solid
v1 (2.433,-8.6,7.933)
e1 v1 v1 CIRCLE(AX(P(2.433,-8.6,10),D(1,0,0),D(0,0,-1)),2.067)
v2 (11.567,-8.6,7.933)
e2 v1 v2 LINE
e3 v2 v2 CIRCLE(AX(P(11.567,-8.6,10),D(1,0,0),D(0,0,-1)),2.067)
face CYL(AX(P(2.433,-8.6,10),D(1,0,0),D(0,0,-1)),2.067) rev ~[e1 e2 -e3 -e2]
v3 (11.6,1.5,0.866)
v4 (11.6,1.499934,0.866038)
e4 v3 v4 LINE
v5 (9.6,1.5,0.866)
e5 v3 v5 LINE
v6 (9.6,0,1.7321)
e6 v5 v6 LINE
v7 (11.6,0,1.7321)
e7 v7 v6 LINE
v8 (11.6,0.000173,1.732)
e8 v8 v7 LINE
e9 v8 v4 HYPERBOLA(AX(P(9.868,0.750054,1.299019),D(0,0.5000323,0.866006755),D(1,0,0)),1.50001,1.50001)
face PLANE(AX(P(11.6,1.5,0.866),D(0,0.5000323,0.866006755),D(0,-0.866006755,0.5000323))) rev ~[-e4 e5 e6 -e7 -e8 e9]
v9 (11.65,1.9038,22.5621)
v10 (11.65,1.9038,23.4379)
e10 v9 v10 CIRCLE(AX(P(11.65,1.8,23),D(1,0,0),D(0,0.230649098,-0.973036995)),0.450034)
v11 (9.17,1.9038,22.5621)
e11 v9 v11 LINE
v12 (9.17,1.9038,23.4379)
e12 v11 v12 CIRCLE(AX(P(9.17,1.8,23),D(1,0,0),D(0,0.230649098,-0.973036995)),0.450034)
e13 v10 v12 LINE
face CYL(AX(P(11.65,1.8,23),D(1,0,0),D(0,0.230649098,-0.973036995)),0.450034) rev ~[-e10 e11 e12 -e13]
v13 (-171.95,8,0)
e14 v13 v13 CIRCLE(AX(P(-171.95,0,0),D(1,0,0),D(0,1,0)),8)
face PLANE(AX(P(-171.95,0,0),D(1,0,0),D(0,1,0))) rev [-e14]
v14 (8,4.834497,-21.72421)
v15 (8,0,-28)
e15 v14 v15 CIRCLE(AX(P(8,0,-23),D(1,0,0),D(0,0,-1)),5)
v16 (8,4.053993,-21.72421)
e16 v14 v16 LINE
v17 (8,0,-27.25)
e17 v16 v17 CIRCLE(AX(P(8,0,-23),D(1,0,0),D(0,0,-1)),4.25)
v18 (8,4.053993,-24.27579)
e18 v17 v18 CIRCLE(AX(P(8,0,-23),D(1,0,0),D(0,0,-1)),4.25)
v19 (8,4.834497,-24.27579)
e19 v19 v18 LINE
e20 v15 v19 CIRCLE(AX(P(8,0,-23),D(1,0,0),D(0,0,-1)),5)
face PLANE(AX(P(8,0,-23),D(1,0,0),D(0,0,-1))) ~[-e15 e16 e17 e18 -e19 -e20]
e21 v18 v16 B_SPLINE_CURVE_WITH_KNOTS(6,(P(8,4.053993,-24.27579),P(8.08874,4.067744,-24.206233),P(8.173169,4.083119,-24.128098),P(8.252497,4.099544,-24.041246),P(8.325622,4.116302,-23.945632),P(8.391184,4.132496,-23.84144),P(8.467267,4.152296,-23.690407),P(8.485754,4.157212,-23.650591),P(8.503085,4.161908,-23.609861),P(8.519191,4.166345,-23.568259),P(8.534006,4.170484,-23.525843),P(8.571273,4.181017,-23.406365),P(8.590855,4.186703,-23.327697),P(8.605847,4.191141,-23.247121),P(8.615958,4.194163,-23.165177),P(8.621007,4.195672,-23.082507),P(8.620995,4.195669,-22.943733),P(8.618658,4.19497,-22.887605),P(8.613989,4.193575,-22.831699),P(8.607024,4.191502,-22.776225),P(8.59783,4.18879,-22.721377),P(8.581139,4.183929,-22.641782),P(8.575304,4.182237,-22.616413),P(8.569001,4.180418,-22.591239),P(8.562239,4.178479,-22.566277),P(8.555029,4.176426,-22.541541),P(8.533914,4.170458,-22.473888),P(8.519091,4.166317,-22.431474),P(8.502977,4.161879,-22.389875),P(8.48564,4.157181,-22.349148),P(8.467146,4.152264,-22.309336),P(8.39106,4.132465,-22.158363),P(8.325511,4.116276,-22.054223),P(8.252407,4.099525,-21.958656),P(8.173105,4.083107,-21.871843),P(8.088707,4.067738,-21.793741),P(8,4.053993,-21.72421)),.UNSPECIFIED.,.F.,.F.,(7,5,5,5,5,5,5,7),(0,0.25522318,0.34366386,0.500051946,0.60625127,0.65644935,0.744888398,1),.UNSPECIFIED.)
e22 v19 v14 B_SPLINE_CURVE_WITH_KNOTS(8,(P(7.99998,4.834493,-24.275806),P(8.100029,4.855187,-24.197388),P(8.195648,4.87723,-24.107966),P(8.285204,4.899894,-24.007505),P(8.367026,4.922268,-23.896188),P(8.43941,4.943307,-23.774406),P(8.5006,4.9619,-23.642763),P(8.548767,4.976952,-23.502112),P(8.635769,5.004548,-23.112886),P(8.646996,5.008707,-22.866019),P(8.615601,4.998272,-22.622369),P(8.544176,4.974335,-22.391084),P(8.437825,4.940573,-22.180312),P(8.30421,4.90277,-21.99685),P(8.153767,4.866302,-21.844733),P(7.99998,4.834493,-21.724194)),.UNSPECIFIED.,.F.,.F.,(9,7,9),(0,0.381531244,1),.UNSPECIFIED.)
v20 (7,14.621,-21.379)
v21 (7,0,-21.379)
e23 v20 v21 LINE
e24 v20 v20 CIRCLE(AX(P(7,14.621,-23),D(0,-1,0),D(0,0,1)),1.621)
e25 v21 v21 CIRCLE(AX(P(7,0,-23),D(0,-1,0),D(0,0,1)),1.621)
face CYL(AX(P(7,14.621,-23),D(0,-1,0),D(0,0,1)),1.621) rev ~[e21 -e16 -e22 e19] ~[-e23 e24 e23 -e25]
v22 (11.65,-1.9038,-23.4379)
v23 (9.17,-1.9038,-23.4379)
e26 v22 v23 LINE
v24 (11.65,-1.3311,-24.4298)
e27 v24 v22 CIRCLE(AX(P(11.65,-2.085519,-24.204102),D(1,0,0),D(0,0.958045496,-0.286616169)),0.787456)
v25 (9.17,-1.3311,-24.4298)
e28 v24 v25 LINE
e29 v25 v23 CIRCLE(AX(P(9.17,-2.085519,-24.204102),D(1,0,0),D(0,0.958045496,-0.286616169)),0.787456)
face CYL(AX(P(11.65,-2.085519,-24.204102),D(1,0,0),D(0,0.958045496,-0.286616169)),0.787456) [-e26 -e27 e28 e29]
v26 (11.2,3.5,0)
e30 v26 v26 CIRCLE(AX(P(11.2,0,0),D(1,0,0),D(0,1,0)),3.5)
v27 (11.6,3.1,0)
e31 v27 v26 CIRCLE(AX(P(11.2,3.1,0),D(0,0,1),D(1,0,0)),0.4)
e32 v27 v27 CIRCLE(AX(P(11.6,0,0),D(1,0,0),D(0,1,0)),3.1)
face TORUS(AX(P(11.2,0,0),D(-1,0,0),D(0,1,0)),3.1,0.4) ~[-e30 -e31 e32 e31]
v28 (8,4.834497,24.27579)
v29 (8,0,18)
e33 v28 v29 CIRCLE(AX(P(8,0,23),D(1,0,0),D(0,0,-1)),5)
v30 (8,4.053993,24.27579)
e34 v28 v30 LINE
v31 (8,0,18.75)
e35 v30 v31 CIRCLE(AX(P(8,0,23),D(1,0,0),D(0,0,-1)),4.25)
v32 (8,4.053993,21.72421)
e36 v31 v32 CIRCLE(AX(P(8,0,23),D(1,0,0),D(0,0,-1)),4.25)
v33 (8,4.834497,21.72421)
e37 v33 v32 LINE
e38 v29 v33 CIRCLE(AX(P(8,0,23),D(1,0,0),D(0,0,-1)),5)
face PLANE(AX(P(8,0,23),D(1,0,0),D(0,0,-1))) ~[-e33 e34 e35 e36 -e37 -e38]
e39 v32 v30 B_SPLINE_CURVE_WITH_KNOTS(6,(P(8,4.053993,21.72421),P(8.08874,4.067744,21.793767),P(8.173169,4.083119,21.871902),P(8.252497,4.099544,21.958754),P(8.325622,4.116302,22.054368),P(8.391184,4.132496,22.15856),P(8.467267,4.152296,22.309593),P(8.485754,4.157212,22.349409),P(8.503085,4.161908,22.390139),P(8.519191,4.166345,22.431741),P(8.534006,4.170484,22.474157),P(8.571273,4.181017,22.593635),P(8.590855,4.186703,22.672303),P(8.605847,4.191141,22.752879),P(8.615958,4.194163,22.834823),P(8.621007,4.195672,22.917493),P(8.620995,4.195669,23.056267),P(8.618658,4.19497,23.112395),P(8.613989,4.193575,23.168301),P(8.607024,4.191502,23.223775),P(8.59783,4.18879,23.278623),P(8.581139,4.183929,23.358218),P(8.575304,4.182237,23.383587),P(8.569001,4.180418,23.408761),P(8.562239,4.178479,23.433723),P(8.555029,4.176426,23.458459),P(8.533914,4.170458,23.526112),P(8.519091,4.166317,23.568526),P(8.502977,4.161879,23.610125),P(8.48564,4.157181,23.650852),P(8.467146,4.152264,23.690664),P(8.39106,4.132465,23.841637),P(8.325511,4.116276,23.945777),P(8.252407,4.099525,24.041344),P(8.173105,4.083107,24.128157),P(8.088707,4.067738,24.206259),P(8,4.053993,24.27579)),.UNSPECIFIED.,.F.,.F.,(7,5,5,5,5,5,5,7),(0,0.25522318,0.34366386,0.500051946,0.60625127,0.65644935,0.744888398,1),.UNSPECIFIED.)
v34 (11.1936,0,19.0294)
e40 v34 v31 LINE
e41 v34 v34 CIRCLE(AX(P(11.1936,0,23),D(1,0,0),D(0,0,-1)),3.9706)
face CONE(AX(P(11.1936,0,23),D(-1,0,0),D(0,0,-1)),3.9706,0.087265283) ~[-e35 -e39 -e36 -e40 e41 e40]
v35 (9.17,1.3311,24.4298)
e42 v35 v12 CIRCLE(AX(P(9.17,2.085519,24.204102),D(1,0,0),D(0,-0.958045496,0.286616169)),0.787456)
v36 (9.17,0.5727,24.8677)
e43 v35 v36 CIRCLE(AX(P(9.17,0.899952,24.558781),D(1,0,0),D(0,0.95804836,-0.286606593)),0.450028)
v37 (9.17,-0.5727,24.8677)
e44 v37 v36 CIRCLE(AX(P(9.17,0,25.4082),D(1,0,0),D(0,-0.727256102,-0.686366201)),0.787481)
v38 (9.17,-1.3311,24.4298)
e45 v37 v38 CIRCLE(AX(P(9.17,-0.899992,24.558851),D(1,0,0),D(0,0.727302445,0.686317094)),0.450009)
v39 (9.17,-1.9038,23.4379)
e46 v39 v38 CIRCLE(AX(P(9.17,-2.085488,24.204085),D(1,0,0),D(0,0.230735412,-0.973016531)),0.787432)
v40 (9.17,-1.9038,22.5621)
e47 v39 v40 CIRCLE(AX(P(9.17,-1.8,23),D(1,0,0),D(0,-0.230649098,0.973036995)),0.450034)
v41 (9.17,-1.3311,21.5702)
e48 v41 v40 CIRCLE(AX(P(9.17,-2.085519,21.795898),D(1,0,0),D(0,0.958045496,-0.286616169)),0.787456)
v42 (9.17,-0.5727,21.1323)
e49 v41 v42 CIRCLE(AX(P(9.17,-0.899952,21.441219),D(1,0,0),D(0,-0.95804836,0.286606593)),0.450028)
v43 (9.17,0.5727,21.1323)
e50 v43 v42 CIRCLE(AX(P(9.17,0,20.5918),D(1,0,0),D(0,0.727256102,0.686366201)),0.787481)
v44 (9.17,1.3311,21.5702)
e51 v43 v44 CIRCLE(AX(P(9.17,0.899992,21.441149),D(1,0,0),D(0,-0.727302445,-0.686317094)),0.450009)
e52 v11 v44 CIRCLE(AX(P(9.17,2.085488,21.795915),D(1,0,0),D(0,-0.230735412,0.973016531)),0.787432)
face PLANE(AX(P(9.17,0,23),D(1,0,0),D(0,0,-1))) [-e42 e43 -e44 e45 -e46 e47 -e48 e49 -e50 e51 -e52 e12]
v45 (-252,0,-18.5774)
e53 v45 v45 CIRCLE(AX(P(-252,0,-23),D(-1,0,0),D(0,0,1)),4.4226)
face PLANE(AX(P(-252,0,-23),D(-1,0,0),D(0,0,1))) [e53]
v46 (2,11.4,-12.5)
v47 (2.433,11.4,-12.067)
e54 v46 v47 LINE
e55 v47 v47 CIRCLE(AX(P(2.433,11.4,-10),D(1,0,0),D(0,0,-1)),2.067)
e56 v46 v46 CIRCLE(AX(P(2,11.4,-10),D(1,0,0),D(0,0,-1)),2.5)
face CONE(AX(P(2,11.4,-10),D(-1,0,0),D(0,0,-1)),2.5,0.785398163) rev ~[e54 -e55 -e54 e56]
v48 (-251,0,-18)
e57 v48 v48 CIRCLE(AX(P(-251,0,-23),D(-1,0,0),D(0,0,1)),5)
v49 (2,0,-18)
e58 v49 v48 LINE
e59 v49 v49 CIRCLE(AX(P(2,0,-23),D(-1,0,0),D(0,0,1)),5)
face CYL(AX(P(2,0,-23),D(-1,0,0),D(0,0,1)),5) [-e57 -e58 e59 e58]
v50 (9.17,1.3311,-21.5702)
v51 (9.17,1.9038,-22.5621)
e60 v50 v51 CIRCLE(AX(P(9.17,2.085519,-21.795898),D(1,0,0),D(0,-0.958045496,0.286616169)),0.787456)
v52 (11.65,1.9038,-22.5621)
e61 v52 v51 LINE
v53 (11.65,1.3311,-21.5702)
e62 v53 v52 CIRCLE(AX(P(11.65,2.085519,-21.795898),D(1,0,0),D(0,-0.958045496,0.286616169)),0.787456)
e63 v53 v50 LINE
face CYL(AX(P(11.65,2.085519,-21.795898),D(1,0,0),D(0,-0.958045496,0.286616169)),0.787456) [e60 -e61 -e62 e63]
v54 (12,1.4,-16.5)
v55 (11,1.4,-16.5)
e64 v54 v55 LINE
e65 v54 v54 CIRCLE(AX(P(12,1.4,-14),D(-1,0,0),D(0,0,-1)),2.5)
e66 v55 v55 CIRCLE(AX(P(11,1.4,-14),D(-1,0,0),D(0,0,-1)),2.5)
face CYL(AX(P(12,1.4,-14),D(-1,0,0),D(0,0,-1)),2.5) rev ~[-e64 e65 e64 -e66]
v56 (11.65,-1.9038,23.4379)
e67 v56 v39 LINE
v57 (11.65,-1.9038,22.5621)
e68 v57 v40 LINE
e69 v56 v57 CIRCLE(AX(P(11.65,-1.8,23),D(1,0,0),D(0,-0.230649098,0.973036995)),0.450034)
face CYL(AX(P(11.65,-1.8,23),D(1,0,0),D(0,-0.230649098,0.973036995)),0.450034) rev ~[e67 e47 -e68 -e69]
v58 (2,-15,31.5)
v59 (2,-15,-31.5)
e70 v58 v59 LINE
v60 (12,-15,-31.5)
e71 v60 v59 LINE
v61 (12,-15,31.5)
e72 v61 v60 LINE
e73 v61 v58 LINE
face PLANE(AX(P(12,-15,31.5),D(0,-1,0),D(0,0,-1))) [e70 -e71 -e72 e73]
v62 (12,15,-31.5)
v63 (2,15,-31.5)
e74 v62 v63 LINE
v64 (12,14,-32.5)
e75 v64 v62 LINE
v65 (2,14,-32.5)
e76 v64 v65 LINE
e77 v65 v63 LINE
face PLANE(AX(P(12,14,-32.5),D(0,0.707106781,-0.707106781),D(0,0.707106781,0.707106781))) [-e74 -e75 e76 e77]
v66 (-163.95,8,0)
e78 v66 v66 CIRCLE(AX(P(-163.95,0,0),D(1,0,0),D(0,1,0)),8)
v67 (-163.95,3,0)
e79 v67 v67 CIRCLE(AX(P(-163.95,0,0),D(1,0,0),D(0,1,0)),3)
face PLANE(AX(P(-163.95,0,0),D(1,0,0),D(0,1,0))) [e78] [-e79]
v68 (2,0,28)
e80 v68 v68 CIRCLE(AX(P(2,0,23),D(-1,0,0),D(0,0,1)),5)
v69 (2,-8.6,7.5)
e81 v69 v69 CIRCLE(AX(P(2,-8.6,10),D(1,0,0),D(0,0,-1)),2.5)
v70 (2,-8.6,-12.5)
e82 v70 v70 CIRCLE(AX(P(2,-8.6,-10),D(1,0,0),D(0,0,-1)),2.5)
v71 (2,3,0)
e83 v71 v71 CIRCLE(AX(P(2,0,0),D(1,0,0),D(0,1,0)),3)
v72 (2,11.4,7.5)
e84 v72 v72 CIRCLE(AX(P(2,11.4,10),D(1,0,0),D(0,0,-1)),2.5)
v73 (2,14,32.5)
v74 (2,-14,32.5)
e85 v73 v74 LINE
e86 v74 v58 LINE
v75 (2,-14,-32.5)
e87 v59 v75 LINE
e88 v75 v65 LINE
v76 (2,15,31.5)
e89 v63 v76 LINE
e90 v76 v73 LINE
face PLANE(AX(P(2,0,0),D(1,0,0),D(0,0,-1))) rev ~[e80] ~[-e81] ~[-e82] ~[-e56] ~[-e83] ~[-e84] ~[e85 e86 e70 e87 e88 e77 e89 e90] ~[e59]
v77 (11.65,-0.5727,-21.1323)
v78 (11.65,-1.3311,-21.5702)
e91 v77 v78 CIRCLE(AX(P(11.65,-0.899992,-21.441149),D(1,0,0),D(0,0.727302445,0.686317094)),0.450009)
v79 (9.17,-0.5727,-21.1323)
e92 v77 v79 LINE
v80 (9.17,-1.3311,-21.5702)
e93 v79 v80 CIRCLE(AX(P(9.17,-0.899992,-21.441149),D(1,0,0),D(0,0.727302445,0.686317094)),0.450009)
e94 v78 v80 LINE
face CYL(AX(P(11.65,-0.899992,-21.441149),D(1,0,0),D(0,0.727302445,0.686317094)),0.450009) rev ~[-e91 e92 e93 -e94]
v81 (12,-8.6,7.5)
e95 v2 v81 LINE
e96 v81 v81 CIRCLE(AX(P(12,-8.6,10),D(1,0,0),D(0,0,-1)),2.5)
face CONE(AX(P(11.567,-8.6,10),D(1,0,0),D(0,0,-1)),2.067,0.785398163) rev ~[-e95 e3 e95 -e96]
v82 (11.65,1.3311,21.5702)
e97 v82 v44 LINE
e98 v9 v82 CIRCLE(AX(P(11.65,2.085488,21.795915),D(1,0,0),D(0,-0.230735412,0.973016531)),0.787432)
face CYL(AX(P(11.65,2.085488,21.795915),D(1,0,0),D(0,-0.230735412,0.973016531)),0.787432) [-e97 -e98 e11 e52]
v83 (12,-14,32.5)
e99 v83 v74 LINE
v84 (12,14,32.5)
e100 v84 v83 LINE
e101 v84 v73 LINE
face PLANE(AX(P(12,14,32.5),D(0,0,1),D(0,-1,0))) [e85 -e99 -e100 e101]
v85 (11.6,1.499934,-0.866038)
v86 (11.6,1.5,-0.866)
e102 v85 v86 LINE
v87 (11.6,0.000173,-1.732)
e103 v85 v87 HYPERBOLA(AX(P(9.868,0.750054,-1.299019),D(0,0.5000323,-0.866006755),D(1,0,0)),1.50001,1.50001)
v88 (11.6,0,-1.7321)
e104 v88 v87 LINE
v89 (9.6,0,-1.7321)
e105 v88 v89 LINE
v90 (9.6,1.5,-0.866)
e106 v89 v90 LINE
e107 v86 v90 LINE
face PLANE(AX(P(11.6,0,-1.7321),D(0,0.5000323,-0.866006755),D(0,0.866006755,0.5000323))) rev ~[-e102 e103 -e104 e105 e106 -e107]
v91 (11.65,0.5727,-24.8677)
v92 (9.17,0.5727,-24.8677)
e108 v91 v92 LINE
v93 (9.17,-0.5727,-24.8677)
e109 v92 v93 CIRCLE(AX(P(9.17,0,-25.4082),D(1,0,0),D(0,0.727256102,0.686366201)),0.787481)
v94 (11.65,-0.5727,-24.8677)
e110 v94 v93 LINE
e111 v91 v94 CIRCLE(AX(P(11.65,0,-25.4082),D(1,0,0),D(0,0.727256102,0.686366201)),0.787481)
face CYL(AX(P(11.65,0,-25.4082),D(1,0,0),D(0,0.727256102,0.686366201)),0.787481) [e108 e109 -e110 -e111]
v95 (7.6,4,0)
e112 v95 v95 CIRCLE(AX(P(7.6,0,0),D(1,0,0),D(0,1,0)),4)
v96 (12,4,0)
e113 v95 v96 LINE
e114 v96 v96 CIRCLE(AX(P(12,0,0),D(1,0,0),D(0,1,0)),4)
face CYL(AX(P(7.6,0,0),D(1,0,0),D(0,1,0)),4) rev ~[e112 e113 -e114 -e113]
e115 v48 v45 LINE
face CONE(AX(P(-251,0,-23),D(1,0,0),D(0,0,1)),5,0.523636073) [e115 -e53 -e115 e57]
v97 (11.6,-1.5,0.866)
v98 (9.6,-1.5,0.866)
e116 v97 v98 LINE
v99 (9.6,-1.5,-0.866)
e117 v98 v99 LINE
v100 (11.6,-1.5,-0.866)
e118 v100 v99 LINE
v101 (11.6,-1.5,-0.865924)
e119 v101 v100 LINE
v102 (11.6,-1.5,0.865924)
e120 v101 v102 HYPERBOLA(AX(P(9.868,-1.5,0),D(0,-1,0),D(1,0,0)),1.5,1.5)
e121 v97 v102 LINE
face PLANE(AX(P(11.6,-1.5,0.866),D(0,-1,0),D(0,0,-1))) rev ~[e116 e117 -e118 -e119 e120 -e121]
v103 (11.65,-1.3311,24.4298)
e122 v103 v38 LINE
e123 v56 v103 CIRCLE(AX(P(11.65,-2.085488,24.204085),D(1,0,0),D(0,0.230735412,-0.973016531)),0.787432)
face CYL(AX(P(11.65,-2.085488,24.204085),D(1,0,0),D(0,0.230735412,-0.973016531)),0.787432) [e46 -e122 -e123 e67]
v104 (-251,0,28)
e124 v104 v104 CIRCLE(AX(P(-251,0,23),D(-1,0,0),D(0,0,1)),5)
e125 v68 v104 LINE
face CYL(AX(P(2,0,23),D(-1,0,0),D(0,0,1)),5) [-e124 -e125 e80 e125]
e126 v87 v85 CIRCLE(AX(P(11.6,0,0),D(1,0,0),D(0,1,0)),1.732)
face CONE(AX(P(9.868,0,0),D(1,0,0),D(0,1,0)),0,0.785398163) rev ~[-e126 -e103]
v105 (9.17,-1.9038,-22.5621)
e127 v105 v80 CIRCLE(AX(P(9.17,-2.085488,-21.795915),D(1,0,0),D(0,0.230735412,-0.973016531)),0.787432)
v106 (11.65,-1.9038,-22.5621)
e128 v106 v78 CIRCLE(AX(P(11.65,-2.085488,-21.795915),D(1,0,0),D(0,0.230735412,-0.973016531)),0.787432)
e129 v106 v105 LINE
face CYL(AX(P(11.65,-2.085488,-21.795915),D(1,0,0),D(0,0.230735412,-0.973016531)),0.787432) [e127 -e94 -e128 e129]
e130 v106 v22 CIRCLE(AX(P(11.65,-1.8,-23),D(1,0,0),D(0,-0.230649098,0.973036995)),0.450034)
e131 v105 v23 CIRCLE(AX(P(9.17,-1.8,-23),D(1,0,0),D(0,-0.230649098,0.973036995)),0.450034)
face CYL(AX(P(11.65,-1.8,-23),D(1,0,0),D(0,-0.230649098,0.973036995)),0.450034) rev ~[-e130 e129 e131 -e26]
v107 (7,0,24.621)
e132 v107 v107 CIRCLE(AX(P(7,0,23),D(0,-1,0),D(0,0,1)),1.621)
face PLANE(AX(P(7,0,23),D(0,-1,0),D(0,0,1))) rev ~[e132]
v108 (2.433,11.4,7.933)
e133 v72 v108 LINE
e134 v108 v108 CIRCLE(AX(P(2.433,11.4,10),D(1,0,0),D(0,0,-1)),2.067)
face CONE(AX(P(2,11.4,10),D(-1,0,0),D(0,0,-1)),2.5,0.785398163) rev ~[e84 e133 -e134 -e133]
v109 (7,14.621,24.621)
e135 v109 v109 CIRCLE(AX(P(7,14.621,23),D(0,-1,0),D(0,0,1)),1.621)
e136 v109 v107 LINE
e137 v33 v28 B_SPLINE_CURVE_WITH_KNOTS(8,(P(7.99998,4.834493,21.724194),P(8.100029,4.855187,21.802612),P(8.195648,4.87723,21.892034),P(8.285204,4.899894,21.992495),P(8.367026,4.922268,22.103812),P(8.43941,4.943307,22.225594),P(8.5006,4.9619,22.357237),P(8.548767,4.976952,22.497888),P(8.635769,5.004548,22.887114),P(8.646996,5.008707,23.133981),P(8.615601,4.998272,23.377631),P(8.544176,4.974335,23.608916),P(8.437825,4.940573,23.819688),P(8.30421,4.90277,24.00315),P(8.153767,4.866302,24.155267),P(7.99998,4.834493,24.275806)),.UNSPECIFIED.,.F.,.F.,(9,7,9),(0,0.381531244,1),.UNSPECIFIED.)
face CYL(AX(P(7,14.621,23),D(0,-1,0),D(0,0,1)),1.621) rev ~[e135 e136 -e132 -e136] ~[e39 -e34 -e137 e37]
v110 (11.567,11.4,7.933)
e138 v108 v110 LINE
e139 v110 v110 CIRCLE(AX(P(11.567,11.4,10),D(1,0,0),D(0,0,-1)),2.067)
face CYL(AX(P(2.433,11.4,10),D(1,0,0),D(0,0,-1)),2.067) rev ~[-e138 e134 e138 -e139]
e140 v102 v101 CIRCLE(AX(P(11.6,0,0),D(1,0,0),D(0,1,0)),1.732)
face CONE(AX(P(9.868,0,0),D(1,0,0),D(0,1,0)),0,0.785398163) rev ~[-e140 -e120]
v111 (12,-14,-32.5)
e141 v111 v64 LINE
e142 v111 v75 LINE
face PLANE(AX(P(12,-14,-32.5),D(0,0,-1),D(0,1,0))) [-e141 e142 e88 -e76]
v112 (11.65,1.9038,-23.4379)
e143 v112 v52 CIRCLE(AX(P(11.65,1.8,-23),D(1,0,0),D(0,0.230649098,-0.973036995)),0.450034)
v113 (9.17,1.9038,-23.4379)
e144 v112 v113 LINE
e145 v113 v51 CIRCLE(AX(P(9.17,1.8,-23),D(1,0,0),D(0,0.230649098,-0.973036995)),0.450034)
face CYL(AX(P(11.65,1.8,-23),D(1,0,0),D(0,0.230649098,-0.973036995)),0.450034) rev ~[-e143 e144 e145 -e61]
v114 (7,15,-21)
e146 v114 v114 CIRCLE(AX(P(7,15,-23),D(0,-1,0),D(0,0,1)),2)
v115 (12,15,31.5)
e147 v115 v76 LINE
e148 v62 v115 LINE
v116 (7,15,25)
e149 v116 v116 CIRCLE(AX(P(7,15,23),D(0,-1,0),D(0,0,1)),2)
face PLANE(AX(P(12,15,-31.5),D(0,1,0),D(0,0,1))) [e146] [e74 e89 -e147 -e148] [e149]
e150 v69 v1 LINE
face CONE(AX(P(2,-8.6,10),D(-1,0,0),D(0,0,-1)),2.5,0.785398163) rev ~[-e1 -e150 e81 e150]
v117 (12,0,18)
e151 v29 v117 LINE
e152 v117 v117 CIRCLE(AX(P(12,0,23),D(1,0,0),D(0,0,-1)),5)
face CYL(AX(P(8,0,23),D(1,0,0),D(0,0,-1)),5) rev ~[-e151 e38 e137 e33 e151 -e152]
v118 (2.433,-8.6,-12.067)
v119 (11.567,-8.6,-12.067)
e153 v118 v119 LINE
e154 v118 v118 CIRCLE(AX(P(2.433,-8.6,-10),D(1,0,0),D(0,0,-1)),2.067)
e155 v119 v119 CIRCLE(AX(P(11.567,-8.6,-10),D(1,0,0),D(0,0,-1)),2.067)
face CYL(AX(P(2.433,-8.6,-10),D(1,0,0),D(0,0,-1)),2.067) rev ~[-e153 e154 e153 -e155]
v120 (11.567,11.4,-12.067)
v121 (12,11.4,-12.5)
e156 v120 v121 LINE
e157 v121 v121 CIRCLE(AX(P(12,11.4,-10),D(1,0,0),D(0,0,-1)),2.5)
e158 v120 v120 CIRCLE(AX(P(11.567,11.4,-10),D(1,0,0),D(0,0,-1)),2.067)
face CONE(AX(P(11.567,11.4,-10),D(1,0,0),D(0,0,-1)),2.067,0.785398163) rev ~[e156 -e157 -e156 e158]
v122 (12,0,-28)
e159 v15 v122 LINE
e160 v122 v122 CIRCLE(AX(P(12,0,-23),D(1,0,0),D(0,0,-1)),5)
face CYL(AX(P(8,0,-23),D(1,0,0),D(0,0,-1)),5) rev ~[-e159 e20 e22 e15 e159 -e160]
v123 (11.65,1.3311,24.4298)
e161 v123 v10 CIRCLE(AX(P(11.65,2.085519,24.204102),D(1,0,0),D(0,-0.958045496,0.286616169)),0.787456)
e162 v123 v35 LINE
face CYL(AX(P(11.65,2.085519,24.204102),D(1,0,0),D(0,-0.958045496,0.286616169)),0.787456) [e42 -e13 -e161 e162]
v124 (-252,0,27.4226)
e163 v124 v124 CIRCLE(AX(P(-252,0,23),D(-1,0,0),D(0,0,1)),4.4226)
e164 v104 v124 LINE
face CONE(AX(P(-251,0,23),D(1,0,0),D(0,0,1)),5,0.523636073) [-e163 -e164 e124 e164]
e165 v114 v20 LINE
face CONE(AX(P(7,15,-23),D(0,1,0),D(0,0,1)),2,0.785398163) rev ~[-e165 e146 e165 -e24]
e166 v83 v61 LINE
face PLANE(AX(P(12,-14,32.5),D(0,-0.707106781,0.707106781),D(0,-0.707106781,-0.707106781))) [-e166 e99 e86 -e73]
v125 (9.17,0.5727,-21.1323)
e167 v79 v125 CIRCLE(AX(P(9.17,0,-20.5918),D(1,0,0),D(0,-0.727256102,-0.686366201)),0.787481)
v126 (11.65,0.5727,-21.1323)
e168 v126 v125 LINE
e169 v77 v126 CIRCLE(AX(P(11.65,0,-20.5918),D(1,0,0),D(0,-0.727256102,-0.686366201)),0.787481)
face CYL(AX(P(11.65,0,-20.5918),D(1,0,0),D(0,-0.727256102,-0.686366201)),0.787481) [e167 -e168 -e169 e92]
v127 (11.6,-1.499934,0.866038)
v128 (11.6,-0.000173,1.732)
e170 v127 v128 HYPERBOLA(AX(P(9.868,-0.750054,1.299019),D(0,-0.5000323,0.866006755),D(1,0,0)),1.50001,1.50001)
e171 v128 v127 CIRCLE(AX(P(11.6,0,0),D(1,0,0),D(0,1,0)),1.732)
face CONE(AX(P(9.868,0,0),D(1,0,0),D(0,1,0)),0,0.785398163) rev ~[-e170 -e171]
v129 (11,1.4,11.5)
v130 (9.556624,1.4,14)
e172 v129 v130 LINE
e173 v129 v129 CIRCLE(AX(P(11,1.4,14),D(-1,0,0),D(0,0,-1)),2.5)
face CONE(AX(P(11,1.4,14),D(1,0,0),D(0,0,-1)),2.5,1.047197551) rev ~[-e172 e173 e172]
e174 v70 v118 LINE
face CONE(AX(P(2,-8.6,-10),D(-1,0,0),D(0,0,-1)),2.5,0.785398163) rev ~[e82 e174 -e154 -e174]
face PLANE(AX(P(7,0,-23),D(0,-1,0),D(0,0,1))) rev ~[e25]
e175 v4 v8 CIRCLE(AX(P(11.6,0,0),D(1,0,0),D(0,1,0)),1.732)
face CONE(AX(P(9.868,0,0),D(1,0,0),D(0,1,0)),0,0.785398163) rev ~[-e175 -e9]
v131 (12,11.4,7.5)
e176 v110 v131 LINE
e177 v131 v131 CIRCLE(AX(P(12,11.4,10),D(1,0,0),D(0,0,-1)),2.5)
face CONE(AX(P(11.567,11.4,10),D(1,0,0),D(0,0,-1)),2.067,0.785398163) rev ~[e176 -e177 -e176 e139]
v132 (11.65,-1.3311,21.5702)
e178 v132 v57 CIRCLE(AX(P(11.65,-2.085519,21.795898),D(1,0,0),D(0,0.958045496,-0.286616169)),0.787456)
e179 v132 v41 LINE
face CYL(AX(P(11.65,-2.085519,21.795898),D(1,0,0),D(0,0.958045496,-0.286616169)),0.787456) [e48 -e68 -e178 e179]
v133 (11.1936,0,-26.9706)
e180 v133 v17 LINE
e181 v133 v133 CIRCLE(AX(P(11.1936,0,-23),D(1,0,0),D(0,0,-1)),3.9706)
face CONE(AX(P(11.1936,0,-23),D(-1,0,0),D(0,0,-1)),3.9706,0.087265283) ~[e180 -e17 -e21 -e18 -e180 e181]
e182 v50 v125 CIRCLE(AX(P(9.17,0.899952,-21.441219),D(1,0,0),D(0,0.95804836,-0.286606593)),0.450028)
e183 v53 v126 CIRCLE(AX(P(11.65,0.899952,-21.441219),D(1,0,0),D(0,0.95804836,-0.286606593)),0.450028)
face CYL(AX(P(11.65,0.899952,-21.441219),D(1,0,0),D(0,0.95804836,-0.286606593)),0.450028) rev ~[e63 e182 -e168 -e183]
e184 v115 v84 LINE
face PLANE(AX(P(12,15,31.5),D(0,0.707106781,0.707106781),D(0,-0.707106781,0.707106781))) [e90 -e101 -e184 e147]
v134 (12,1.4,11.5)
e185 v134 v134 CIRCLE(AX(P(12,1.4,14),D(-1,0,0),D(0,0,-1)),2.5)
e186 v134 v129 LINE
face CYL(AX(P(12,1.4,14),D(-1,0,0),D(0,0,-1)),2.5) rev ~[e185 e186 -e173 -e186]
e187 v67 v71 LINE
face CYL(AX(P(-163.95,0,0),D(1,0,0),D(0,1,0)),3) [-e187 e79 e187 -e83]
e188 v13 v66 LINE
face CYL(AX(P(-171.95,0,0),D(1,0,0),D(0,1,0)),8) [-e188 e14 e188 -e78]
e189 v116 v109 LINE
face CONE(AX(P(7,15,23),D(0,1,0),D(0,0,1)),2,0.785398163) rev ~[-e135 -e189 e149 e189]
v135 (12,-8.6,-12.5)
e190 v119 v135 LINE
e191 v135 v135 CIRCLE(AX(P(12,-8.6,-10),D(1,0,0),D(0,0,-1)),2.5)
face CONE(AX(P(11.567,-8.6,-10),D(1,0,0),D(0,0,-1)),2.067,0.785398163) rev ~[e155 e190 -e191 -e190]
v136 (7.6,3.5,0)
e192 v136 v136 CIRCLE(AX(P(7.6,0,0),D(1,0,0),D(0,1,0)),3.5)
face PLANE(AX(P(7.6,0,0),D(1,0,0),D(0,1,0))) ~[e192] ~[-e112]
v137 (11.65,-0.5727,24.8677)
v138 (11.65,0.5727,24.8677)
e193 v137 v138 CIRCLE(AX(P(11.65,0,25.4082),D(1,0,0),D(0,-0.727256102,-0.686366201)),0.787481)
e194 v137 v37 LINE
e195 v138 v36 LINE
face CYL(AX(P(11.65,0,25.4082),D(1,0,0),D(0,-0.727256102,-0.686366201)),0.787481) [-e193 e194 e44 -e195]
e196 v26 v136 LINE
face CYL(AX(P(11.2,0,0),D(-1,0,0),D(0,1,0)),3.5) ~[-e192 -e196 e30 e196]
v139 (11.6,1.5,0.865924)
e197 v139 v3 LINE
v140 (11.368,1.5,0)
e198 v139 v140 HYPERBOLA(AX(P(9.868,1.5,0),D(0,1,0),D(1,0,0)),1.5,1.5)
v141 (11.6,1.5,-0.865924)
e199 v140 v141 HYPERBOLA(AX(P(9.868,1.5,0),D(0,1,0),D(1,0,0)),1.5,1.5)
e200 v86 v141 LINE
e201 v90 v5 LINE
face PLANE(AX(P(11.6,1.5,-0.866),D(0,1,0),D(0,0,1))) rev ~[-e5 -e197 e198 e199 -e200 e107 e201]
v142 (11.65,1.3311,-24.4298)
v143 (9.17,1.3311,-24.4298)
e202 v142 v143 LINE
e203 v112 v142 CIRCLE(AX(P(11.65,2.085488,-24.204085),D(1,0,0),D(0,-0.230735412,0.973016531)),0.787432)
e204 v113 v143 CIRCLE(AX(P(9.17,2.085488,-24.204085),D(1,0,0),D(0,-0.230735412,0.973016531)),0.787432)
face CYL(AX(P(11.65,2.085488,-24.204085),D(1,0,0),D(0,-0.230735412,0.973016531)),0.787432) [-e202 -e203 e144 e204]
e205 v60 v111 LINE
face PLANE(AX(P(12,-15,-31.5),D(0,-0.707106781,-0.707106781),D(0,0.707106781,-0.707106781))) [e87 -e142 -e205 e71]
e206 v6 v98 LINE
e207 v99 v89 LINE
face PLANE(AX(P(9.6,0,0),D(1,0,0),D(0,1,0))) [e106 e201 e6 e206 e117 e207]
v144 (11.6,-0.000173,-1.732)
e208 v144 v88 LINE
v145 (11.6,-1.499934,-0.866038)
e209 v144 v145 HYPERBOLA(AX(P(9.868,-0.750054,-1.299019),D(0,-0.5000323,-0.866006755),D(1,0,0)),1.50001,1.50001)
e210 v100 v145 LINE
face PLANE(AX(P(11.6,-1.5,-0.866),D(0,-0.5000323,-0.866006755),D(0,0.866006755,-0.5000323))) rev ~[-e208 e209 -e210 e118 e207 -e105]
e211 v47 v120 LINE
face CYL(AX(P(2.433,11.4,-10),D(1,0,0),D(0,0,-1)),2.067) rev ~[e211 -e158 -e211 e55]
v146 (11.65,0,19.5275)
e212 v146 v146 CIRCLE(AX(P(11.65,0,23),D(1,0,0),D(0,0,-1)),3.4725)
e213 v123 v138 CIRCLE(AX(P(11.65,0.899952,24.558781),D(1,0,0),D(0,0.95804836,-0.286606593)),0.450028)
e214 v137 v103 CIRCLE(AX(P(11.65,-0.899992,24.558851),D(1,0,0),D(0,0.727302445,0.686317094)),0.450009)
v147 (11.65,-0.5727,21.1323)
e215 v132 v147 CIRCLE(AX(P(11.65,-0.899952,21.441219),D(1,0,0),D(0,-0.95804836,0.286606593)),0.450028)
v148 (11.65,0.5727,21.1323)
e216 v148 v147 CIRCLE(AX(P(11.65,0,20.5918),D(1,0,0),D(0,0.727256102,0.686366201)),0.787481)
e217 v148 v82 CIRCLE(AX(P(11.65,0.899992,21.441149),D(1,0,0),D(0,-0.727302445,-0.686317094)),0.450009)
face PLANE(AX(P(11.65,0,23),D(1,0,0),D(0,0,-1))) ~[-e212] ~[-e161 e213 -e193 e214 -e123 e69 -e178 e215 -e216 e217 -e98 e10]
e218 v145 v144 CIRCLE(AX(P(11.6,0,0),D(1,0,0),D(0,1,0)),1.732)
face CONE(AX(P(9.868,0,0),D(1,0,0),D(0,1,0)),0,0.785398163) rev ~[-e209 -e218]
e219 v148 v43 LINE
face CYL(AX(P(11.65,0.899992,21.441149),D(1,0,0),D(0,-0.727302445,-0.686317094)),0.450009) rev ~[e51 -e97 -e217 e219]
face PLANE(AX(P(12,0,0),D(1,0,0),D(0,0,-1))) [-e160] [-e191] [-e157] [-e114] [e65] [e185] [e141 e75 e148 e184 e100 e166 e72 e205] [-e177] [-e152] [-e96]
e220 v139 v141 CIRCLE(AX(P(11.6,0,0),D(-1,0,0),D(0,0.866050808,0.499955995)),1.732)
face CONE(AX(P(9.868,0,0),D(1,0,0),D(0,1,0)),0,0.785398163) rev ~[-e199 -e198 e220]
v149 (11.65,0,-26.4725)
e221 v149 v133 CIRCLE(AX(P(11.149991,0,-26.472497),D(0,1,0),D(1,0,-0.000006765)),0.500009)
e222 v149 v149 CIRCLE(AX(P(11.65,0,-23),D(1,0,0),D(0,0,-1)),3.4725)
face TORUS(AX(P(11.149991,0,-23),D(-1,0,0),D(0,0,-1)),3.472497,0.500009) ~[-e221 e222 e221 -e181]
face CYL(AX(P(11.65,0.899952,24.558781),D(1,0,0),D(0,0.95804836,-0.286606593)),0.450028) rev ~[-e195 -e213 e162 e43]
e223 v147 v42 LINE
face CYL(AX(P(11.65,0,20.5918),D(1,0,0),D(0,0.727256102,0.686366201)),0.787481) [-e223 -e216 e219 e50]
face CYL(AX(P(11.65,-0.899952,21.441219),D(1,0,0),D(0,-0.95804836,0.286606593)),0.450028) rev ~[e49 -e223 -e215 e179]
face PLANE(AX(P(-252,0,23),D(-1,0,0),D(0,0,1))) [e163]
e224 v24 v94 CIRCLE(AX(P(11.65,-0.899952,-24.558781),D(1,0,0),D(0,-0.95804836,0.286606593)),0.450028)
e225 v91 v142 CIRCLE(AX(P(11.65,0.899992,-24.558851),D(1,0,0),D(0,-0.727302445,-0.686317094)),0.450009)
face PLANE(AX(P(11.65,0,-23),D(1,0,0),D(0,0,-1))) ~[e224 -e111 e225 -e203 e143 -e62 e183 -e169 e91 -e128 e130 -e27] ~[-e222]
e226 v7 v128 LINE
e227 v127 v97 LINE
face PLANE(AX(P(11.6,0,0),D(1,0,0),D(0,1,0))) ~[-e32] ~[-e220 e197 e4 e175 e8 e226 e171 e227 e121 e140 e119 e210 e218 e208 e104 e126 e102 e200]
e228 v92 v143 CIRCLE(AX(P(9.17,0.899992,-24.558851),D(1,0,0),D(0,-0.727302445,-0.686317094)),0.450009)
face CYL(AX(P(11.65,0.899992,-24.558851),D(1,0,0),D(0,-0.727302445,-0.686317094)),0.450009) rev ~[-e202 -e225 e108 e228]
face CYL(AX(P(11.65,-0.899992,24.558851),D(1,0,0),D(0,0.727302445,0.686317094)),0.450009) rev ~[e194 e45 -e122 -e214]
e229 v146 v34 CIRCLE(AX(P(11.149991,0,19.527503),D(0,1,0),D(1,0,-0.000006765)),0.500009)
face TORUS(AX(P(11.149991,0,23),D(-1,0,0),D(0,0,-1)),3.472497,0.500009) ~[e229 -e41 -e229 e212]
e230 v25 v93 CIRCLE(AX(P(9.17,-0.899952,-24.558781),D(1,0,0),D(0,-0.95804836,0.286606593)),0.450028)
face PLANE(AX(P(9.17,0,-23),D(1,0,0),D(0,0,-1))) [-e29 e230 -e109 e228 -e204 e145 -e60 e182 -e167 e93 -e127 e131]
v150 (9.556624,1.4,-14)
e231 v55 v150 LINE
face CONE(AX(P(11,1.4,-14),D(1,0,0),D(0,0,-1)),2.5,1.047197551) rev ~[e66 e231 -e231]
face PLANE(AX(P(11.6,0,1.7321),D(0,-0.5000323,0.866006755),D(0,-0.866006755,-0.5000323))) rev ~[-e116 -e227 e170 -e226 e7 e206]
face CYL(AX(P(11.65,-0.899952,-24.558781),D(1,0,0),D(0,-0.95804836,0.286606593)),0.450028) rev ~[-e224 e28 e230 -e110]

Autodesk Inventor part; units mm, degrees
sketch "Skizze_1" plane through (12, 0, 0) normal (1, 0, 0) x (0, 0, -1)
  line L0 (-32.5, -14) -> (-31.5, -15)
  line L1 (-31.5, -15) -> (31.5, -15)
  line L2 (31.5, -15) -> (32.5, -14)
  line L3 (32.5, -14) -> (32.5, 14)
  line L4 (32.5, 14) -> (31.5, 15)
  line L5 (31.5, 15) -> (-31.5, 15)
  line L6 (-31.5, 15) -> (-32.5, 14)
  line L7 (-32.5, 14) -> (-32.5, -14)
extrude "Extrusion1" add sketch "Skizze_1" against normal blind 10
sketch "Skizze_2" plane through (0, 0, 0) normal (0, 1, 0) x (1, 0, 0)
  line L0 (-252, -23) -> (2, -23)
  line L1 (2, -23) -> (2, -28)
  line L2 (2, -28) -> (-251, -28)
  line L3 (-251, -28) -> (-252, -27.4226)
  line L4 (-252, -27.4226) -> (-252, -23)
  line L5 (-252, -23) -> (2, -23)
sketch "Skizze_3" plane through (0, 0, 0) normal (0, 1, 0) x (1, 0, 0)
  line L0 (-252, 23) -> (2, 23)
  line L1 (2, 23) -> (2, 18)
  line L2 (2, 18) -> (-251, 18)
  line L3 (-251, 18) -> (-252, 18.5774)
  line L4 (-252, 18.5774) -> (-252, 23)
  line L5 (-252, 23) -> (2, 23)
sketch "Skizze_4" plane through (0, -8.6, 0) normal (0, 1, 0) x (1, 0, 0)
  line L0 (12, -10) -> (2, -10)
  line L1 (2, -10) -> (2, -7.5)
  line L2 (2, -7.5) -> (2.433, -7.933)
  line L3 (2.433, -7.933) -> (11.567, -7.933)
  line L4 (11.567, -7.933) -> (12, -7.5)
  line L5 (12, -7.5) -> (12, -10)
  line L6 (12, -10) -> (2, -10)
revolve "Revolution1" cut sketch "Skizze_4" angle 360 about axis through (12, -8.6, 10) along (1, 0, 0)
thread "Thread1" size "M5x0.8" class "6H" standard "ISO Metric profile" full length
sketch "Skizze_5" plane through (0, -8.6, 0) normal (0, 1, 0) x (1, 0, 0)
  line L0 (12, 10) -> (2, 10)
  line L1 (2, 10) -> (2, 12.5)
  line L2 (2, 12.5) -> (2.433, 12.067)
  line L3 (2.433, 12.067) -> (11.567, 12.067)
  line L4 (11.567, 12.067) -> (12, 12.5)
  line L5 (12, 12.5) -> (12, 10)
  line L6 (12, 10) -> (2, 10)
revolve "Revolution2" cut sketch "Skizze_5" angle 360 about axis through (12, -8.6, -10) along (1, 0, 0)
thread "Thread2" size "M5x0.8" class "6H" standard "ISO Metric profile" full length
sketch "Skizze_6" plane through (0, 11.4, 0) normal (0, 1, 0) x (1, 0, 0)
  line L0 (12, -10) -> (2, -10)
  line L1 (2, -10) -> (2, -7.5)
  line L2 (2, -7.5) -> (2.433, -7.933)
  line L3 (2.433, -7.933) -> (11.567, -7.933)
  line L4 (11.567, -7.933) -> (12, -7.5)
  line L5 (12, -7.5) -> (12, -10)
  line L6 (12, -10) -> (2, -10)
revolve "Revolution3" cut sketch "Skizze_6" angle 360 about axis through (12, 11.4, 10) along (1, 0, 0)
thread "Thread3" size "M5x0.8" class "6H" standard "ISO Metric profile" full length
sketch "Skizze_7" plane through (0, 11.4, 0) normal (0, 1, 0) x (1, 0, 0)
  line L0 (12, 10) -> (2, 10)
  line L1 (2, 10) -> (2, 12.5)
  line L2 (2, 12.5) -> (2.433, 12.067)
  line L3 (2.433, 12.067) -> (11.567, 12.067)
  line L4 (11.567, 12.067) -> (12, 12.5)
  line L5 (12, 12.5) -> (12, 10)
  line L6 (12, 10) -> (2, 10)
revolve "Revolution4" cut sketch "Skizze_7" angle 360 about axis through (12, 11.4, -10) along (1, 0, 0)
thread "Thread4" size "M5x0.8" class "6H" standard "ISO Metric profile" full length
sketch "Skizze_8" plane through (0, 0, 0) normal (0, 0, 1) x (1, 0, 0)
  line L0 (2, 0) -> (-171.95, 0)
  line L1 (-171.95, 0) -> (-171.95, 8)
  line L2 (-171.95, 8) -> (-163.95, 8)
  line L3 (-163.95, 8) -> (-163.95, 3)
  line L4 (-163.95, 3) -> (2, 3)
  line L5 (2, 3) -> (2, 0)
  line L6 (2, 0) -> (-171.95, 0)
revolve "Revolution5" add sketch "Skizze_8" angle 360 about axis through (2, 0, 0) along (1, 0, 0)
sketch "Sketch9" plane through (12, 15, 31.5) normal (0, 1, 0) x (1, 0, 0)
  point P0 (-5, 8.5)
hole "Hole1" at (7, 15, 23) direction (0, -1, 0) diameter 3.242 depth 15 countersink diameter 4 countersink angle 90 thread size "M4x0.7" class "6H" standard "ISO Metric profile"
sketch "Sketch10" plane through (12, 15, 31.5) normal (0, 1, 0) x (1, 0, 0)
  point P0 (-5, 54.5)
hole "Hole2" at (7, 15, -23) direction (0, -1, 0) diameter 3.242 depth 15 countersink diameter 4 countersink angle 90 thread size "M4x0.7" class "6H" standard "ISO Metric profile"
revolve "Revolution6" add sketch "Skizze_2" angle 360 about axis through (-252, 0, 23) along (-1, 0, 0)
revolve "Revolution7" add sketch "Skizze_3" angle 360 about axis through (-252, 0, -23) along (-1, 0, 0)
sketch "Sketch11" plane through (12, 0, 0) normal (1, 0, 0) x (0, 0, -1)
  point P0 (14, 1.4)
hole "Hole3" at (12, 1.4, -14) direction (-1, 0, 0) diameter 5 depth 1 tip angle 120
sketch "Sketch12" plane through (12, 0, 0) normal (1, 0, 0) x (0, 0, -1)
  point P0 (-14, 1.4)
hole "Hole4" at (12, 1.4, 14) direction (-1, 0, 0) diameter 5 depth 1 tip angle 120
sketch "Sketch_4" plane through (0, 0, 0) normal (0, 1, 0) x (1, 0, 0)
  line L0 (12, 23) -> (11.65, 23)
  line L1 (11.65, 23) -> (11.65, 26.4725)
  arc A0 (11.65, 26.4725) -> (11.1936, 26.9706) centre (11.15, 26.4725) ccw
  line L2 (11.1936, 26.9706) -> (8, 27.25)
  line L3 (8, 27.25) -> (8, 28)
  line L4 (8, 28) -> (12, 28)
  line L5 (12, 28) -> (12, 23)
  line L6 (12, 23) -> (11.65, 23)
revolve "Revolution8" cut sketch "Sketch_4" angle 360 about axis through (12, 0, -23) along (1, 0, 0)
sketch "Sketch_6" plane through (0, 0, 0) normal (0, 1, 0) x (1, 0, 0)
  line L0 (12, -23) -> (11.65, -23)
  line L1 (11.65, -23) -> (11.65, -19.5275)
  arc A0 (11.65, -19.5275) -> (11.1936, -19.0294) centre (11.15, -19.5275) ccw
  line L2 (11.1936, -19.0294) -> (8, -18.75)
  line L3 (8, -18.75) -> (8, -18)
  line L4 (8, -18) -> (12, -18)
  line L5 (12, -18) -> (12, -23)
  line L6 (12, -23) -> (11.65, -23)
revolve "Revolution9" cut sketch "Sketch_6" angle 360 about axis through (12, 0, 23) along (1, 0, 0)
sketch "Sketch_7" plane through (11.65, 0, 23) normal (1, 0, 0) x (0, 0, -1)
  arc A0 (-1.8677, -0.5727) -> (-1.4298, -1.3311) centre (-1.5588, -0.9) ccw
  arc A1 (-0.4379, -1.9038) -> (-1.4298, -1.3311) centre (-1.2041, -2.0855) ccw
  arc A2 (-0.4379, -1.9038) -> (0.4379, -1.9038) centre (0, -1.8) ccw
  arc A3 (1.4298, -1.3311) -> (0.4379, -1.9038) centre (1.2041, -2.0855) ccw
  arc A4 (1.4298, -1.3311) -> (1.8677, -0.5727) centre (1.5588, -0.9) ccw
  arc A5 (1.8677, 0.5727) -> (1.8677, -0.5727) centre (2.4082, 0) ccw
  arc A6 (1.8677, 0.5727) -> (1.4298, 1.3311) centre (1.5588, 0.9) ccw
  arc A7 (0.4379, 1.9038) -> (1.4298, 1.3311) centre (1.2041, 2.0855) ccw
  arc A8 (0.4379, 1.9038) -> (-0.4379, 1.9038) centre (0, 1.8) ccw
  arc A9 (-1.4298, 1.3311) -> (-0.4379, 1.9038) centre (-1.2041, 2.0855) ccw
  arc A10 (-1.4298, 1.3311) -> (-1.8677, 0.5727) centre (-1.5588, 0.9) ccw
  arc A11 (-1.8677, -0.5727) -> (-1.8677, 0.5727) centre (-2.4082, 0) ccw
extrude "Extrusion2" cut sketch "Sketch_7" against normal blind 2.48
sketch "Sketch_8" plane through (11.65, 0, -23) normal (1, 0, 0) x (0, 0, -1)
  arc A0 (-1.8677, -0.5727) -> (-1.4298, -1.3311) centre (-1.5588, -0.9) ccw
  arc A1 (-0.4379, -1.9038) -> (-1.4298, -1.3311) centre (-1.2041, -2.0855) ccw
  arc A2 (-0.4379, -1.9038) -> (0.4379, -1.9038) centre (0, -1.8) ccw
  arc A3 (1.4298, -1.3311) -> (0.4379, -1.9038) centre (1.2041, -2.0855) ccw
  arc A4 (1.4298, -1.3311) -> (1.8677, -0.5727) centre (1.5588, -0.9) ccw
  arc A5 (1.8677, 0.5727) -> (1.8677, -0.5727) centre (2.4082, 0) ccw
  arc A6 (1.8677, 0.5727) -> (1.4298, 1.3311) centre (1.5588, 0.9) ccw
  arc A7 (0.4379, 1.9038) -> (1.4298, 1.3311) centre (1.2041, 2.0855) ccw
  arc A8 (0.4379, 1.9038) -> (-0.4379, 1.9038) centre (0, 1.8) ccw
  arc A9 (-1.4298, 1.3311) -> (-0.4379, 1.9038) centre (-1.2041, 2.0855) ccw
  arc A10 (-1.4298, 1.3311) -> (-1.8677, 0.5727) centre (-1.5588, 0.9) ccw
  arc A11 (-1.8677, -0.5727) -> (-1.8677, 0.5727) centre (-2.4082, 0) ccw
extrude "Extrusion3" cut sketch "Sketch_8" against normal blind 2.48
sketch "Sketch_9" plane through (0, 0, 0) normal (0, 0, 1) x (1, 0, 0)
  line L0 (12, 0) -> (9.868, 0)
  line L1 (9.868, 0) -> (11.6, 1.732)
  line L2 (11.6, 1.732) -> (11.6, 3.1)
  arc A0 (11.6, 3.1) -> (11.2, 3.5) centre (11.2, 3.1) ccw
  line L3 (11.2, 3.5) -> (7.6, 3.5)
  line L4 (7.6, 3.5) -> (7.6, 4)
  line L5 (7.6, 4) -> (12, 4)
  line L6 (12, 4) -> (12, 0)
  line L7 (12, 0) -> (9.868, 0)
revolve "Revolution10" cut sketch "Sketch_9" angle 360 about axis through (12, 0, 0) along (1, 0, 0)
sketch "Sketch_10" plane through (11.6, 0, 0) normal (1, 0, 0) x (0, 1, 0)
  line L0 (-1.5, -0.866) -> (0, -1.7321)
  line L1 (0, -1.7321) -> (1.5, -0.866)
  line L2 (1.5, -0.866) -> (1.5, 0.866)
  line L3 (1.5, 0.866) -> (0, 1.7321)
  line L4 (0, 1.7321) -> (-1.5, 0.866)
  line L5 (-1.5, 0.866) -> (-1.5, -0.866)
extrude "Extrusion4" cut sketch "Sketch_10" against normal blind 2
ref_plane "HUELSE3_1_XY" through (11, 1.4, -14) normal (1, 0, 0) x (0, 0, -1)
ref_plane "HUELSE3_1_YZ" through (11, 1.4, -14) normal (0, 0, -1) x (0, 1, 0)
ref_plane "HUELSE3_1_ZX" through (11, 1.4, -14) normal (0, 1, 0) x (1, 0, 0)
ref_plane "HUELSE3_2_XY" through (11, 1.4, 14) normal (1, 0, 0) x (0, 0, -1)
ref_plane "HUELSE3_2_YZ" through (11, 1.4, 14) normal (0, 0, -1) x (0, 1, 0)
ref_plane "HUELSE3_2_ZX" through (11, 1.4, 14) normal (0, 1, 0) x (1, 0, 0)
ref_plane "kolben_dfm_XY" through (0, 0, 0) normal (-1, 0, 0) x (0, 0, -1)
ref_plane "kolben_dfm_YZ" through (0, 0, 0) normal (0, 0, -1) x (0, -1, 0)
ref_plane "kolben_dfm_ZX" through (0, 0, 0) normal (0, -1, 0) x (-1, 0, 0)
properties part number "529120 DFM-16-150-B-P-A-KF---(K)"
